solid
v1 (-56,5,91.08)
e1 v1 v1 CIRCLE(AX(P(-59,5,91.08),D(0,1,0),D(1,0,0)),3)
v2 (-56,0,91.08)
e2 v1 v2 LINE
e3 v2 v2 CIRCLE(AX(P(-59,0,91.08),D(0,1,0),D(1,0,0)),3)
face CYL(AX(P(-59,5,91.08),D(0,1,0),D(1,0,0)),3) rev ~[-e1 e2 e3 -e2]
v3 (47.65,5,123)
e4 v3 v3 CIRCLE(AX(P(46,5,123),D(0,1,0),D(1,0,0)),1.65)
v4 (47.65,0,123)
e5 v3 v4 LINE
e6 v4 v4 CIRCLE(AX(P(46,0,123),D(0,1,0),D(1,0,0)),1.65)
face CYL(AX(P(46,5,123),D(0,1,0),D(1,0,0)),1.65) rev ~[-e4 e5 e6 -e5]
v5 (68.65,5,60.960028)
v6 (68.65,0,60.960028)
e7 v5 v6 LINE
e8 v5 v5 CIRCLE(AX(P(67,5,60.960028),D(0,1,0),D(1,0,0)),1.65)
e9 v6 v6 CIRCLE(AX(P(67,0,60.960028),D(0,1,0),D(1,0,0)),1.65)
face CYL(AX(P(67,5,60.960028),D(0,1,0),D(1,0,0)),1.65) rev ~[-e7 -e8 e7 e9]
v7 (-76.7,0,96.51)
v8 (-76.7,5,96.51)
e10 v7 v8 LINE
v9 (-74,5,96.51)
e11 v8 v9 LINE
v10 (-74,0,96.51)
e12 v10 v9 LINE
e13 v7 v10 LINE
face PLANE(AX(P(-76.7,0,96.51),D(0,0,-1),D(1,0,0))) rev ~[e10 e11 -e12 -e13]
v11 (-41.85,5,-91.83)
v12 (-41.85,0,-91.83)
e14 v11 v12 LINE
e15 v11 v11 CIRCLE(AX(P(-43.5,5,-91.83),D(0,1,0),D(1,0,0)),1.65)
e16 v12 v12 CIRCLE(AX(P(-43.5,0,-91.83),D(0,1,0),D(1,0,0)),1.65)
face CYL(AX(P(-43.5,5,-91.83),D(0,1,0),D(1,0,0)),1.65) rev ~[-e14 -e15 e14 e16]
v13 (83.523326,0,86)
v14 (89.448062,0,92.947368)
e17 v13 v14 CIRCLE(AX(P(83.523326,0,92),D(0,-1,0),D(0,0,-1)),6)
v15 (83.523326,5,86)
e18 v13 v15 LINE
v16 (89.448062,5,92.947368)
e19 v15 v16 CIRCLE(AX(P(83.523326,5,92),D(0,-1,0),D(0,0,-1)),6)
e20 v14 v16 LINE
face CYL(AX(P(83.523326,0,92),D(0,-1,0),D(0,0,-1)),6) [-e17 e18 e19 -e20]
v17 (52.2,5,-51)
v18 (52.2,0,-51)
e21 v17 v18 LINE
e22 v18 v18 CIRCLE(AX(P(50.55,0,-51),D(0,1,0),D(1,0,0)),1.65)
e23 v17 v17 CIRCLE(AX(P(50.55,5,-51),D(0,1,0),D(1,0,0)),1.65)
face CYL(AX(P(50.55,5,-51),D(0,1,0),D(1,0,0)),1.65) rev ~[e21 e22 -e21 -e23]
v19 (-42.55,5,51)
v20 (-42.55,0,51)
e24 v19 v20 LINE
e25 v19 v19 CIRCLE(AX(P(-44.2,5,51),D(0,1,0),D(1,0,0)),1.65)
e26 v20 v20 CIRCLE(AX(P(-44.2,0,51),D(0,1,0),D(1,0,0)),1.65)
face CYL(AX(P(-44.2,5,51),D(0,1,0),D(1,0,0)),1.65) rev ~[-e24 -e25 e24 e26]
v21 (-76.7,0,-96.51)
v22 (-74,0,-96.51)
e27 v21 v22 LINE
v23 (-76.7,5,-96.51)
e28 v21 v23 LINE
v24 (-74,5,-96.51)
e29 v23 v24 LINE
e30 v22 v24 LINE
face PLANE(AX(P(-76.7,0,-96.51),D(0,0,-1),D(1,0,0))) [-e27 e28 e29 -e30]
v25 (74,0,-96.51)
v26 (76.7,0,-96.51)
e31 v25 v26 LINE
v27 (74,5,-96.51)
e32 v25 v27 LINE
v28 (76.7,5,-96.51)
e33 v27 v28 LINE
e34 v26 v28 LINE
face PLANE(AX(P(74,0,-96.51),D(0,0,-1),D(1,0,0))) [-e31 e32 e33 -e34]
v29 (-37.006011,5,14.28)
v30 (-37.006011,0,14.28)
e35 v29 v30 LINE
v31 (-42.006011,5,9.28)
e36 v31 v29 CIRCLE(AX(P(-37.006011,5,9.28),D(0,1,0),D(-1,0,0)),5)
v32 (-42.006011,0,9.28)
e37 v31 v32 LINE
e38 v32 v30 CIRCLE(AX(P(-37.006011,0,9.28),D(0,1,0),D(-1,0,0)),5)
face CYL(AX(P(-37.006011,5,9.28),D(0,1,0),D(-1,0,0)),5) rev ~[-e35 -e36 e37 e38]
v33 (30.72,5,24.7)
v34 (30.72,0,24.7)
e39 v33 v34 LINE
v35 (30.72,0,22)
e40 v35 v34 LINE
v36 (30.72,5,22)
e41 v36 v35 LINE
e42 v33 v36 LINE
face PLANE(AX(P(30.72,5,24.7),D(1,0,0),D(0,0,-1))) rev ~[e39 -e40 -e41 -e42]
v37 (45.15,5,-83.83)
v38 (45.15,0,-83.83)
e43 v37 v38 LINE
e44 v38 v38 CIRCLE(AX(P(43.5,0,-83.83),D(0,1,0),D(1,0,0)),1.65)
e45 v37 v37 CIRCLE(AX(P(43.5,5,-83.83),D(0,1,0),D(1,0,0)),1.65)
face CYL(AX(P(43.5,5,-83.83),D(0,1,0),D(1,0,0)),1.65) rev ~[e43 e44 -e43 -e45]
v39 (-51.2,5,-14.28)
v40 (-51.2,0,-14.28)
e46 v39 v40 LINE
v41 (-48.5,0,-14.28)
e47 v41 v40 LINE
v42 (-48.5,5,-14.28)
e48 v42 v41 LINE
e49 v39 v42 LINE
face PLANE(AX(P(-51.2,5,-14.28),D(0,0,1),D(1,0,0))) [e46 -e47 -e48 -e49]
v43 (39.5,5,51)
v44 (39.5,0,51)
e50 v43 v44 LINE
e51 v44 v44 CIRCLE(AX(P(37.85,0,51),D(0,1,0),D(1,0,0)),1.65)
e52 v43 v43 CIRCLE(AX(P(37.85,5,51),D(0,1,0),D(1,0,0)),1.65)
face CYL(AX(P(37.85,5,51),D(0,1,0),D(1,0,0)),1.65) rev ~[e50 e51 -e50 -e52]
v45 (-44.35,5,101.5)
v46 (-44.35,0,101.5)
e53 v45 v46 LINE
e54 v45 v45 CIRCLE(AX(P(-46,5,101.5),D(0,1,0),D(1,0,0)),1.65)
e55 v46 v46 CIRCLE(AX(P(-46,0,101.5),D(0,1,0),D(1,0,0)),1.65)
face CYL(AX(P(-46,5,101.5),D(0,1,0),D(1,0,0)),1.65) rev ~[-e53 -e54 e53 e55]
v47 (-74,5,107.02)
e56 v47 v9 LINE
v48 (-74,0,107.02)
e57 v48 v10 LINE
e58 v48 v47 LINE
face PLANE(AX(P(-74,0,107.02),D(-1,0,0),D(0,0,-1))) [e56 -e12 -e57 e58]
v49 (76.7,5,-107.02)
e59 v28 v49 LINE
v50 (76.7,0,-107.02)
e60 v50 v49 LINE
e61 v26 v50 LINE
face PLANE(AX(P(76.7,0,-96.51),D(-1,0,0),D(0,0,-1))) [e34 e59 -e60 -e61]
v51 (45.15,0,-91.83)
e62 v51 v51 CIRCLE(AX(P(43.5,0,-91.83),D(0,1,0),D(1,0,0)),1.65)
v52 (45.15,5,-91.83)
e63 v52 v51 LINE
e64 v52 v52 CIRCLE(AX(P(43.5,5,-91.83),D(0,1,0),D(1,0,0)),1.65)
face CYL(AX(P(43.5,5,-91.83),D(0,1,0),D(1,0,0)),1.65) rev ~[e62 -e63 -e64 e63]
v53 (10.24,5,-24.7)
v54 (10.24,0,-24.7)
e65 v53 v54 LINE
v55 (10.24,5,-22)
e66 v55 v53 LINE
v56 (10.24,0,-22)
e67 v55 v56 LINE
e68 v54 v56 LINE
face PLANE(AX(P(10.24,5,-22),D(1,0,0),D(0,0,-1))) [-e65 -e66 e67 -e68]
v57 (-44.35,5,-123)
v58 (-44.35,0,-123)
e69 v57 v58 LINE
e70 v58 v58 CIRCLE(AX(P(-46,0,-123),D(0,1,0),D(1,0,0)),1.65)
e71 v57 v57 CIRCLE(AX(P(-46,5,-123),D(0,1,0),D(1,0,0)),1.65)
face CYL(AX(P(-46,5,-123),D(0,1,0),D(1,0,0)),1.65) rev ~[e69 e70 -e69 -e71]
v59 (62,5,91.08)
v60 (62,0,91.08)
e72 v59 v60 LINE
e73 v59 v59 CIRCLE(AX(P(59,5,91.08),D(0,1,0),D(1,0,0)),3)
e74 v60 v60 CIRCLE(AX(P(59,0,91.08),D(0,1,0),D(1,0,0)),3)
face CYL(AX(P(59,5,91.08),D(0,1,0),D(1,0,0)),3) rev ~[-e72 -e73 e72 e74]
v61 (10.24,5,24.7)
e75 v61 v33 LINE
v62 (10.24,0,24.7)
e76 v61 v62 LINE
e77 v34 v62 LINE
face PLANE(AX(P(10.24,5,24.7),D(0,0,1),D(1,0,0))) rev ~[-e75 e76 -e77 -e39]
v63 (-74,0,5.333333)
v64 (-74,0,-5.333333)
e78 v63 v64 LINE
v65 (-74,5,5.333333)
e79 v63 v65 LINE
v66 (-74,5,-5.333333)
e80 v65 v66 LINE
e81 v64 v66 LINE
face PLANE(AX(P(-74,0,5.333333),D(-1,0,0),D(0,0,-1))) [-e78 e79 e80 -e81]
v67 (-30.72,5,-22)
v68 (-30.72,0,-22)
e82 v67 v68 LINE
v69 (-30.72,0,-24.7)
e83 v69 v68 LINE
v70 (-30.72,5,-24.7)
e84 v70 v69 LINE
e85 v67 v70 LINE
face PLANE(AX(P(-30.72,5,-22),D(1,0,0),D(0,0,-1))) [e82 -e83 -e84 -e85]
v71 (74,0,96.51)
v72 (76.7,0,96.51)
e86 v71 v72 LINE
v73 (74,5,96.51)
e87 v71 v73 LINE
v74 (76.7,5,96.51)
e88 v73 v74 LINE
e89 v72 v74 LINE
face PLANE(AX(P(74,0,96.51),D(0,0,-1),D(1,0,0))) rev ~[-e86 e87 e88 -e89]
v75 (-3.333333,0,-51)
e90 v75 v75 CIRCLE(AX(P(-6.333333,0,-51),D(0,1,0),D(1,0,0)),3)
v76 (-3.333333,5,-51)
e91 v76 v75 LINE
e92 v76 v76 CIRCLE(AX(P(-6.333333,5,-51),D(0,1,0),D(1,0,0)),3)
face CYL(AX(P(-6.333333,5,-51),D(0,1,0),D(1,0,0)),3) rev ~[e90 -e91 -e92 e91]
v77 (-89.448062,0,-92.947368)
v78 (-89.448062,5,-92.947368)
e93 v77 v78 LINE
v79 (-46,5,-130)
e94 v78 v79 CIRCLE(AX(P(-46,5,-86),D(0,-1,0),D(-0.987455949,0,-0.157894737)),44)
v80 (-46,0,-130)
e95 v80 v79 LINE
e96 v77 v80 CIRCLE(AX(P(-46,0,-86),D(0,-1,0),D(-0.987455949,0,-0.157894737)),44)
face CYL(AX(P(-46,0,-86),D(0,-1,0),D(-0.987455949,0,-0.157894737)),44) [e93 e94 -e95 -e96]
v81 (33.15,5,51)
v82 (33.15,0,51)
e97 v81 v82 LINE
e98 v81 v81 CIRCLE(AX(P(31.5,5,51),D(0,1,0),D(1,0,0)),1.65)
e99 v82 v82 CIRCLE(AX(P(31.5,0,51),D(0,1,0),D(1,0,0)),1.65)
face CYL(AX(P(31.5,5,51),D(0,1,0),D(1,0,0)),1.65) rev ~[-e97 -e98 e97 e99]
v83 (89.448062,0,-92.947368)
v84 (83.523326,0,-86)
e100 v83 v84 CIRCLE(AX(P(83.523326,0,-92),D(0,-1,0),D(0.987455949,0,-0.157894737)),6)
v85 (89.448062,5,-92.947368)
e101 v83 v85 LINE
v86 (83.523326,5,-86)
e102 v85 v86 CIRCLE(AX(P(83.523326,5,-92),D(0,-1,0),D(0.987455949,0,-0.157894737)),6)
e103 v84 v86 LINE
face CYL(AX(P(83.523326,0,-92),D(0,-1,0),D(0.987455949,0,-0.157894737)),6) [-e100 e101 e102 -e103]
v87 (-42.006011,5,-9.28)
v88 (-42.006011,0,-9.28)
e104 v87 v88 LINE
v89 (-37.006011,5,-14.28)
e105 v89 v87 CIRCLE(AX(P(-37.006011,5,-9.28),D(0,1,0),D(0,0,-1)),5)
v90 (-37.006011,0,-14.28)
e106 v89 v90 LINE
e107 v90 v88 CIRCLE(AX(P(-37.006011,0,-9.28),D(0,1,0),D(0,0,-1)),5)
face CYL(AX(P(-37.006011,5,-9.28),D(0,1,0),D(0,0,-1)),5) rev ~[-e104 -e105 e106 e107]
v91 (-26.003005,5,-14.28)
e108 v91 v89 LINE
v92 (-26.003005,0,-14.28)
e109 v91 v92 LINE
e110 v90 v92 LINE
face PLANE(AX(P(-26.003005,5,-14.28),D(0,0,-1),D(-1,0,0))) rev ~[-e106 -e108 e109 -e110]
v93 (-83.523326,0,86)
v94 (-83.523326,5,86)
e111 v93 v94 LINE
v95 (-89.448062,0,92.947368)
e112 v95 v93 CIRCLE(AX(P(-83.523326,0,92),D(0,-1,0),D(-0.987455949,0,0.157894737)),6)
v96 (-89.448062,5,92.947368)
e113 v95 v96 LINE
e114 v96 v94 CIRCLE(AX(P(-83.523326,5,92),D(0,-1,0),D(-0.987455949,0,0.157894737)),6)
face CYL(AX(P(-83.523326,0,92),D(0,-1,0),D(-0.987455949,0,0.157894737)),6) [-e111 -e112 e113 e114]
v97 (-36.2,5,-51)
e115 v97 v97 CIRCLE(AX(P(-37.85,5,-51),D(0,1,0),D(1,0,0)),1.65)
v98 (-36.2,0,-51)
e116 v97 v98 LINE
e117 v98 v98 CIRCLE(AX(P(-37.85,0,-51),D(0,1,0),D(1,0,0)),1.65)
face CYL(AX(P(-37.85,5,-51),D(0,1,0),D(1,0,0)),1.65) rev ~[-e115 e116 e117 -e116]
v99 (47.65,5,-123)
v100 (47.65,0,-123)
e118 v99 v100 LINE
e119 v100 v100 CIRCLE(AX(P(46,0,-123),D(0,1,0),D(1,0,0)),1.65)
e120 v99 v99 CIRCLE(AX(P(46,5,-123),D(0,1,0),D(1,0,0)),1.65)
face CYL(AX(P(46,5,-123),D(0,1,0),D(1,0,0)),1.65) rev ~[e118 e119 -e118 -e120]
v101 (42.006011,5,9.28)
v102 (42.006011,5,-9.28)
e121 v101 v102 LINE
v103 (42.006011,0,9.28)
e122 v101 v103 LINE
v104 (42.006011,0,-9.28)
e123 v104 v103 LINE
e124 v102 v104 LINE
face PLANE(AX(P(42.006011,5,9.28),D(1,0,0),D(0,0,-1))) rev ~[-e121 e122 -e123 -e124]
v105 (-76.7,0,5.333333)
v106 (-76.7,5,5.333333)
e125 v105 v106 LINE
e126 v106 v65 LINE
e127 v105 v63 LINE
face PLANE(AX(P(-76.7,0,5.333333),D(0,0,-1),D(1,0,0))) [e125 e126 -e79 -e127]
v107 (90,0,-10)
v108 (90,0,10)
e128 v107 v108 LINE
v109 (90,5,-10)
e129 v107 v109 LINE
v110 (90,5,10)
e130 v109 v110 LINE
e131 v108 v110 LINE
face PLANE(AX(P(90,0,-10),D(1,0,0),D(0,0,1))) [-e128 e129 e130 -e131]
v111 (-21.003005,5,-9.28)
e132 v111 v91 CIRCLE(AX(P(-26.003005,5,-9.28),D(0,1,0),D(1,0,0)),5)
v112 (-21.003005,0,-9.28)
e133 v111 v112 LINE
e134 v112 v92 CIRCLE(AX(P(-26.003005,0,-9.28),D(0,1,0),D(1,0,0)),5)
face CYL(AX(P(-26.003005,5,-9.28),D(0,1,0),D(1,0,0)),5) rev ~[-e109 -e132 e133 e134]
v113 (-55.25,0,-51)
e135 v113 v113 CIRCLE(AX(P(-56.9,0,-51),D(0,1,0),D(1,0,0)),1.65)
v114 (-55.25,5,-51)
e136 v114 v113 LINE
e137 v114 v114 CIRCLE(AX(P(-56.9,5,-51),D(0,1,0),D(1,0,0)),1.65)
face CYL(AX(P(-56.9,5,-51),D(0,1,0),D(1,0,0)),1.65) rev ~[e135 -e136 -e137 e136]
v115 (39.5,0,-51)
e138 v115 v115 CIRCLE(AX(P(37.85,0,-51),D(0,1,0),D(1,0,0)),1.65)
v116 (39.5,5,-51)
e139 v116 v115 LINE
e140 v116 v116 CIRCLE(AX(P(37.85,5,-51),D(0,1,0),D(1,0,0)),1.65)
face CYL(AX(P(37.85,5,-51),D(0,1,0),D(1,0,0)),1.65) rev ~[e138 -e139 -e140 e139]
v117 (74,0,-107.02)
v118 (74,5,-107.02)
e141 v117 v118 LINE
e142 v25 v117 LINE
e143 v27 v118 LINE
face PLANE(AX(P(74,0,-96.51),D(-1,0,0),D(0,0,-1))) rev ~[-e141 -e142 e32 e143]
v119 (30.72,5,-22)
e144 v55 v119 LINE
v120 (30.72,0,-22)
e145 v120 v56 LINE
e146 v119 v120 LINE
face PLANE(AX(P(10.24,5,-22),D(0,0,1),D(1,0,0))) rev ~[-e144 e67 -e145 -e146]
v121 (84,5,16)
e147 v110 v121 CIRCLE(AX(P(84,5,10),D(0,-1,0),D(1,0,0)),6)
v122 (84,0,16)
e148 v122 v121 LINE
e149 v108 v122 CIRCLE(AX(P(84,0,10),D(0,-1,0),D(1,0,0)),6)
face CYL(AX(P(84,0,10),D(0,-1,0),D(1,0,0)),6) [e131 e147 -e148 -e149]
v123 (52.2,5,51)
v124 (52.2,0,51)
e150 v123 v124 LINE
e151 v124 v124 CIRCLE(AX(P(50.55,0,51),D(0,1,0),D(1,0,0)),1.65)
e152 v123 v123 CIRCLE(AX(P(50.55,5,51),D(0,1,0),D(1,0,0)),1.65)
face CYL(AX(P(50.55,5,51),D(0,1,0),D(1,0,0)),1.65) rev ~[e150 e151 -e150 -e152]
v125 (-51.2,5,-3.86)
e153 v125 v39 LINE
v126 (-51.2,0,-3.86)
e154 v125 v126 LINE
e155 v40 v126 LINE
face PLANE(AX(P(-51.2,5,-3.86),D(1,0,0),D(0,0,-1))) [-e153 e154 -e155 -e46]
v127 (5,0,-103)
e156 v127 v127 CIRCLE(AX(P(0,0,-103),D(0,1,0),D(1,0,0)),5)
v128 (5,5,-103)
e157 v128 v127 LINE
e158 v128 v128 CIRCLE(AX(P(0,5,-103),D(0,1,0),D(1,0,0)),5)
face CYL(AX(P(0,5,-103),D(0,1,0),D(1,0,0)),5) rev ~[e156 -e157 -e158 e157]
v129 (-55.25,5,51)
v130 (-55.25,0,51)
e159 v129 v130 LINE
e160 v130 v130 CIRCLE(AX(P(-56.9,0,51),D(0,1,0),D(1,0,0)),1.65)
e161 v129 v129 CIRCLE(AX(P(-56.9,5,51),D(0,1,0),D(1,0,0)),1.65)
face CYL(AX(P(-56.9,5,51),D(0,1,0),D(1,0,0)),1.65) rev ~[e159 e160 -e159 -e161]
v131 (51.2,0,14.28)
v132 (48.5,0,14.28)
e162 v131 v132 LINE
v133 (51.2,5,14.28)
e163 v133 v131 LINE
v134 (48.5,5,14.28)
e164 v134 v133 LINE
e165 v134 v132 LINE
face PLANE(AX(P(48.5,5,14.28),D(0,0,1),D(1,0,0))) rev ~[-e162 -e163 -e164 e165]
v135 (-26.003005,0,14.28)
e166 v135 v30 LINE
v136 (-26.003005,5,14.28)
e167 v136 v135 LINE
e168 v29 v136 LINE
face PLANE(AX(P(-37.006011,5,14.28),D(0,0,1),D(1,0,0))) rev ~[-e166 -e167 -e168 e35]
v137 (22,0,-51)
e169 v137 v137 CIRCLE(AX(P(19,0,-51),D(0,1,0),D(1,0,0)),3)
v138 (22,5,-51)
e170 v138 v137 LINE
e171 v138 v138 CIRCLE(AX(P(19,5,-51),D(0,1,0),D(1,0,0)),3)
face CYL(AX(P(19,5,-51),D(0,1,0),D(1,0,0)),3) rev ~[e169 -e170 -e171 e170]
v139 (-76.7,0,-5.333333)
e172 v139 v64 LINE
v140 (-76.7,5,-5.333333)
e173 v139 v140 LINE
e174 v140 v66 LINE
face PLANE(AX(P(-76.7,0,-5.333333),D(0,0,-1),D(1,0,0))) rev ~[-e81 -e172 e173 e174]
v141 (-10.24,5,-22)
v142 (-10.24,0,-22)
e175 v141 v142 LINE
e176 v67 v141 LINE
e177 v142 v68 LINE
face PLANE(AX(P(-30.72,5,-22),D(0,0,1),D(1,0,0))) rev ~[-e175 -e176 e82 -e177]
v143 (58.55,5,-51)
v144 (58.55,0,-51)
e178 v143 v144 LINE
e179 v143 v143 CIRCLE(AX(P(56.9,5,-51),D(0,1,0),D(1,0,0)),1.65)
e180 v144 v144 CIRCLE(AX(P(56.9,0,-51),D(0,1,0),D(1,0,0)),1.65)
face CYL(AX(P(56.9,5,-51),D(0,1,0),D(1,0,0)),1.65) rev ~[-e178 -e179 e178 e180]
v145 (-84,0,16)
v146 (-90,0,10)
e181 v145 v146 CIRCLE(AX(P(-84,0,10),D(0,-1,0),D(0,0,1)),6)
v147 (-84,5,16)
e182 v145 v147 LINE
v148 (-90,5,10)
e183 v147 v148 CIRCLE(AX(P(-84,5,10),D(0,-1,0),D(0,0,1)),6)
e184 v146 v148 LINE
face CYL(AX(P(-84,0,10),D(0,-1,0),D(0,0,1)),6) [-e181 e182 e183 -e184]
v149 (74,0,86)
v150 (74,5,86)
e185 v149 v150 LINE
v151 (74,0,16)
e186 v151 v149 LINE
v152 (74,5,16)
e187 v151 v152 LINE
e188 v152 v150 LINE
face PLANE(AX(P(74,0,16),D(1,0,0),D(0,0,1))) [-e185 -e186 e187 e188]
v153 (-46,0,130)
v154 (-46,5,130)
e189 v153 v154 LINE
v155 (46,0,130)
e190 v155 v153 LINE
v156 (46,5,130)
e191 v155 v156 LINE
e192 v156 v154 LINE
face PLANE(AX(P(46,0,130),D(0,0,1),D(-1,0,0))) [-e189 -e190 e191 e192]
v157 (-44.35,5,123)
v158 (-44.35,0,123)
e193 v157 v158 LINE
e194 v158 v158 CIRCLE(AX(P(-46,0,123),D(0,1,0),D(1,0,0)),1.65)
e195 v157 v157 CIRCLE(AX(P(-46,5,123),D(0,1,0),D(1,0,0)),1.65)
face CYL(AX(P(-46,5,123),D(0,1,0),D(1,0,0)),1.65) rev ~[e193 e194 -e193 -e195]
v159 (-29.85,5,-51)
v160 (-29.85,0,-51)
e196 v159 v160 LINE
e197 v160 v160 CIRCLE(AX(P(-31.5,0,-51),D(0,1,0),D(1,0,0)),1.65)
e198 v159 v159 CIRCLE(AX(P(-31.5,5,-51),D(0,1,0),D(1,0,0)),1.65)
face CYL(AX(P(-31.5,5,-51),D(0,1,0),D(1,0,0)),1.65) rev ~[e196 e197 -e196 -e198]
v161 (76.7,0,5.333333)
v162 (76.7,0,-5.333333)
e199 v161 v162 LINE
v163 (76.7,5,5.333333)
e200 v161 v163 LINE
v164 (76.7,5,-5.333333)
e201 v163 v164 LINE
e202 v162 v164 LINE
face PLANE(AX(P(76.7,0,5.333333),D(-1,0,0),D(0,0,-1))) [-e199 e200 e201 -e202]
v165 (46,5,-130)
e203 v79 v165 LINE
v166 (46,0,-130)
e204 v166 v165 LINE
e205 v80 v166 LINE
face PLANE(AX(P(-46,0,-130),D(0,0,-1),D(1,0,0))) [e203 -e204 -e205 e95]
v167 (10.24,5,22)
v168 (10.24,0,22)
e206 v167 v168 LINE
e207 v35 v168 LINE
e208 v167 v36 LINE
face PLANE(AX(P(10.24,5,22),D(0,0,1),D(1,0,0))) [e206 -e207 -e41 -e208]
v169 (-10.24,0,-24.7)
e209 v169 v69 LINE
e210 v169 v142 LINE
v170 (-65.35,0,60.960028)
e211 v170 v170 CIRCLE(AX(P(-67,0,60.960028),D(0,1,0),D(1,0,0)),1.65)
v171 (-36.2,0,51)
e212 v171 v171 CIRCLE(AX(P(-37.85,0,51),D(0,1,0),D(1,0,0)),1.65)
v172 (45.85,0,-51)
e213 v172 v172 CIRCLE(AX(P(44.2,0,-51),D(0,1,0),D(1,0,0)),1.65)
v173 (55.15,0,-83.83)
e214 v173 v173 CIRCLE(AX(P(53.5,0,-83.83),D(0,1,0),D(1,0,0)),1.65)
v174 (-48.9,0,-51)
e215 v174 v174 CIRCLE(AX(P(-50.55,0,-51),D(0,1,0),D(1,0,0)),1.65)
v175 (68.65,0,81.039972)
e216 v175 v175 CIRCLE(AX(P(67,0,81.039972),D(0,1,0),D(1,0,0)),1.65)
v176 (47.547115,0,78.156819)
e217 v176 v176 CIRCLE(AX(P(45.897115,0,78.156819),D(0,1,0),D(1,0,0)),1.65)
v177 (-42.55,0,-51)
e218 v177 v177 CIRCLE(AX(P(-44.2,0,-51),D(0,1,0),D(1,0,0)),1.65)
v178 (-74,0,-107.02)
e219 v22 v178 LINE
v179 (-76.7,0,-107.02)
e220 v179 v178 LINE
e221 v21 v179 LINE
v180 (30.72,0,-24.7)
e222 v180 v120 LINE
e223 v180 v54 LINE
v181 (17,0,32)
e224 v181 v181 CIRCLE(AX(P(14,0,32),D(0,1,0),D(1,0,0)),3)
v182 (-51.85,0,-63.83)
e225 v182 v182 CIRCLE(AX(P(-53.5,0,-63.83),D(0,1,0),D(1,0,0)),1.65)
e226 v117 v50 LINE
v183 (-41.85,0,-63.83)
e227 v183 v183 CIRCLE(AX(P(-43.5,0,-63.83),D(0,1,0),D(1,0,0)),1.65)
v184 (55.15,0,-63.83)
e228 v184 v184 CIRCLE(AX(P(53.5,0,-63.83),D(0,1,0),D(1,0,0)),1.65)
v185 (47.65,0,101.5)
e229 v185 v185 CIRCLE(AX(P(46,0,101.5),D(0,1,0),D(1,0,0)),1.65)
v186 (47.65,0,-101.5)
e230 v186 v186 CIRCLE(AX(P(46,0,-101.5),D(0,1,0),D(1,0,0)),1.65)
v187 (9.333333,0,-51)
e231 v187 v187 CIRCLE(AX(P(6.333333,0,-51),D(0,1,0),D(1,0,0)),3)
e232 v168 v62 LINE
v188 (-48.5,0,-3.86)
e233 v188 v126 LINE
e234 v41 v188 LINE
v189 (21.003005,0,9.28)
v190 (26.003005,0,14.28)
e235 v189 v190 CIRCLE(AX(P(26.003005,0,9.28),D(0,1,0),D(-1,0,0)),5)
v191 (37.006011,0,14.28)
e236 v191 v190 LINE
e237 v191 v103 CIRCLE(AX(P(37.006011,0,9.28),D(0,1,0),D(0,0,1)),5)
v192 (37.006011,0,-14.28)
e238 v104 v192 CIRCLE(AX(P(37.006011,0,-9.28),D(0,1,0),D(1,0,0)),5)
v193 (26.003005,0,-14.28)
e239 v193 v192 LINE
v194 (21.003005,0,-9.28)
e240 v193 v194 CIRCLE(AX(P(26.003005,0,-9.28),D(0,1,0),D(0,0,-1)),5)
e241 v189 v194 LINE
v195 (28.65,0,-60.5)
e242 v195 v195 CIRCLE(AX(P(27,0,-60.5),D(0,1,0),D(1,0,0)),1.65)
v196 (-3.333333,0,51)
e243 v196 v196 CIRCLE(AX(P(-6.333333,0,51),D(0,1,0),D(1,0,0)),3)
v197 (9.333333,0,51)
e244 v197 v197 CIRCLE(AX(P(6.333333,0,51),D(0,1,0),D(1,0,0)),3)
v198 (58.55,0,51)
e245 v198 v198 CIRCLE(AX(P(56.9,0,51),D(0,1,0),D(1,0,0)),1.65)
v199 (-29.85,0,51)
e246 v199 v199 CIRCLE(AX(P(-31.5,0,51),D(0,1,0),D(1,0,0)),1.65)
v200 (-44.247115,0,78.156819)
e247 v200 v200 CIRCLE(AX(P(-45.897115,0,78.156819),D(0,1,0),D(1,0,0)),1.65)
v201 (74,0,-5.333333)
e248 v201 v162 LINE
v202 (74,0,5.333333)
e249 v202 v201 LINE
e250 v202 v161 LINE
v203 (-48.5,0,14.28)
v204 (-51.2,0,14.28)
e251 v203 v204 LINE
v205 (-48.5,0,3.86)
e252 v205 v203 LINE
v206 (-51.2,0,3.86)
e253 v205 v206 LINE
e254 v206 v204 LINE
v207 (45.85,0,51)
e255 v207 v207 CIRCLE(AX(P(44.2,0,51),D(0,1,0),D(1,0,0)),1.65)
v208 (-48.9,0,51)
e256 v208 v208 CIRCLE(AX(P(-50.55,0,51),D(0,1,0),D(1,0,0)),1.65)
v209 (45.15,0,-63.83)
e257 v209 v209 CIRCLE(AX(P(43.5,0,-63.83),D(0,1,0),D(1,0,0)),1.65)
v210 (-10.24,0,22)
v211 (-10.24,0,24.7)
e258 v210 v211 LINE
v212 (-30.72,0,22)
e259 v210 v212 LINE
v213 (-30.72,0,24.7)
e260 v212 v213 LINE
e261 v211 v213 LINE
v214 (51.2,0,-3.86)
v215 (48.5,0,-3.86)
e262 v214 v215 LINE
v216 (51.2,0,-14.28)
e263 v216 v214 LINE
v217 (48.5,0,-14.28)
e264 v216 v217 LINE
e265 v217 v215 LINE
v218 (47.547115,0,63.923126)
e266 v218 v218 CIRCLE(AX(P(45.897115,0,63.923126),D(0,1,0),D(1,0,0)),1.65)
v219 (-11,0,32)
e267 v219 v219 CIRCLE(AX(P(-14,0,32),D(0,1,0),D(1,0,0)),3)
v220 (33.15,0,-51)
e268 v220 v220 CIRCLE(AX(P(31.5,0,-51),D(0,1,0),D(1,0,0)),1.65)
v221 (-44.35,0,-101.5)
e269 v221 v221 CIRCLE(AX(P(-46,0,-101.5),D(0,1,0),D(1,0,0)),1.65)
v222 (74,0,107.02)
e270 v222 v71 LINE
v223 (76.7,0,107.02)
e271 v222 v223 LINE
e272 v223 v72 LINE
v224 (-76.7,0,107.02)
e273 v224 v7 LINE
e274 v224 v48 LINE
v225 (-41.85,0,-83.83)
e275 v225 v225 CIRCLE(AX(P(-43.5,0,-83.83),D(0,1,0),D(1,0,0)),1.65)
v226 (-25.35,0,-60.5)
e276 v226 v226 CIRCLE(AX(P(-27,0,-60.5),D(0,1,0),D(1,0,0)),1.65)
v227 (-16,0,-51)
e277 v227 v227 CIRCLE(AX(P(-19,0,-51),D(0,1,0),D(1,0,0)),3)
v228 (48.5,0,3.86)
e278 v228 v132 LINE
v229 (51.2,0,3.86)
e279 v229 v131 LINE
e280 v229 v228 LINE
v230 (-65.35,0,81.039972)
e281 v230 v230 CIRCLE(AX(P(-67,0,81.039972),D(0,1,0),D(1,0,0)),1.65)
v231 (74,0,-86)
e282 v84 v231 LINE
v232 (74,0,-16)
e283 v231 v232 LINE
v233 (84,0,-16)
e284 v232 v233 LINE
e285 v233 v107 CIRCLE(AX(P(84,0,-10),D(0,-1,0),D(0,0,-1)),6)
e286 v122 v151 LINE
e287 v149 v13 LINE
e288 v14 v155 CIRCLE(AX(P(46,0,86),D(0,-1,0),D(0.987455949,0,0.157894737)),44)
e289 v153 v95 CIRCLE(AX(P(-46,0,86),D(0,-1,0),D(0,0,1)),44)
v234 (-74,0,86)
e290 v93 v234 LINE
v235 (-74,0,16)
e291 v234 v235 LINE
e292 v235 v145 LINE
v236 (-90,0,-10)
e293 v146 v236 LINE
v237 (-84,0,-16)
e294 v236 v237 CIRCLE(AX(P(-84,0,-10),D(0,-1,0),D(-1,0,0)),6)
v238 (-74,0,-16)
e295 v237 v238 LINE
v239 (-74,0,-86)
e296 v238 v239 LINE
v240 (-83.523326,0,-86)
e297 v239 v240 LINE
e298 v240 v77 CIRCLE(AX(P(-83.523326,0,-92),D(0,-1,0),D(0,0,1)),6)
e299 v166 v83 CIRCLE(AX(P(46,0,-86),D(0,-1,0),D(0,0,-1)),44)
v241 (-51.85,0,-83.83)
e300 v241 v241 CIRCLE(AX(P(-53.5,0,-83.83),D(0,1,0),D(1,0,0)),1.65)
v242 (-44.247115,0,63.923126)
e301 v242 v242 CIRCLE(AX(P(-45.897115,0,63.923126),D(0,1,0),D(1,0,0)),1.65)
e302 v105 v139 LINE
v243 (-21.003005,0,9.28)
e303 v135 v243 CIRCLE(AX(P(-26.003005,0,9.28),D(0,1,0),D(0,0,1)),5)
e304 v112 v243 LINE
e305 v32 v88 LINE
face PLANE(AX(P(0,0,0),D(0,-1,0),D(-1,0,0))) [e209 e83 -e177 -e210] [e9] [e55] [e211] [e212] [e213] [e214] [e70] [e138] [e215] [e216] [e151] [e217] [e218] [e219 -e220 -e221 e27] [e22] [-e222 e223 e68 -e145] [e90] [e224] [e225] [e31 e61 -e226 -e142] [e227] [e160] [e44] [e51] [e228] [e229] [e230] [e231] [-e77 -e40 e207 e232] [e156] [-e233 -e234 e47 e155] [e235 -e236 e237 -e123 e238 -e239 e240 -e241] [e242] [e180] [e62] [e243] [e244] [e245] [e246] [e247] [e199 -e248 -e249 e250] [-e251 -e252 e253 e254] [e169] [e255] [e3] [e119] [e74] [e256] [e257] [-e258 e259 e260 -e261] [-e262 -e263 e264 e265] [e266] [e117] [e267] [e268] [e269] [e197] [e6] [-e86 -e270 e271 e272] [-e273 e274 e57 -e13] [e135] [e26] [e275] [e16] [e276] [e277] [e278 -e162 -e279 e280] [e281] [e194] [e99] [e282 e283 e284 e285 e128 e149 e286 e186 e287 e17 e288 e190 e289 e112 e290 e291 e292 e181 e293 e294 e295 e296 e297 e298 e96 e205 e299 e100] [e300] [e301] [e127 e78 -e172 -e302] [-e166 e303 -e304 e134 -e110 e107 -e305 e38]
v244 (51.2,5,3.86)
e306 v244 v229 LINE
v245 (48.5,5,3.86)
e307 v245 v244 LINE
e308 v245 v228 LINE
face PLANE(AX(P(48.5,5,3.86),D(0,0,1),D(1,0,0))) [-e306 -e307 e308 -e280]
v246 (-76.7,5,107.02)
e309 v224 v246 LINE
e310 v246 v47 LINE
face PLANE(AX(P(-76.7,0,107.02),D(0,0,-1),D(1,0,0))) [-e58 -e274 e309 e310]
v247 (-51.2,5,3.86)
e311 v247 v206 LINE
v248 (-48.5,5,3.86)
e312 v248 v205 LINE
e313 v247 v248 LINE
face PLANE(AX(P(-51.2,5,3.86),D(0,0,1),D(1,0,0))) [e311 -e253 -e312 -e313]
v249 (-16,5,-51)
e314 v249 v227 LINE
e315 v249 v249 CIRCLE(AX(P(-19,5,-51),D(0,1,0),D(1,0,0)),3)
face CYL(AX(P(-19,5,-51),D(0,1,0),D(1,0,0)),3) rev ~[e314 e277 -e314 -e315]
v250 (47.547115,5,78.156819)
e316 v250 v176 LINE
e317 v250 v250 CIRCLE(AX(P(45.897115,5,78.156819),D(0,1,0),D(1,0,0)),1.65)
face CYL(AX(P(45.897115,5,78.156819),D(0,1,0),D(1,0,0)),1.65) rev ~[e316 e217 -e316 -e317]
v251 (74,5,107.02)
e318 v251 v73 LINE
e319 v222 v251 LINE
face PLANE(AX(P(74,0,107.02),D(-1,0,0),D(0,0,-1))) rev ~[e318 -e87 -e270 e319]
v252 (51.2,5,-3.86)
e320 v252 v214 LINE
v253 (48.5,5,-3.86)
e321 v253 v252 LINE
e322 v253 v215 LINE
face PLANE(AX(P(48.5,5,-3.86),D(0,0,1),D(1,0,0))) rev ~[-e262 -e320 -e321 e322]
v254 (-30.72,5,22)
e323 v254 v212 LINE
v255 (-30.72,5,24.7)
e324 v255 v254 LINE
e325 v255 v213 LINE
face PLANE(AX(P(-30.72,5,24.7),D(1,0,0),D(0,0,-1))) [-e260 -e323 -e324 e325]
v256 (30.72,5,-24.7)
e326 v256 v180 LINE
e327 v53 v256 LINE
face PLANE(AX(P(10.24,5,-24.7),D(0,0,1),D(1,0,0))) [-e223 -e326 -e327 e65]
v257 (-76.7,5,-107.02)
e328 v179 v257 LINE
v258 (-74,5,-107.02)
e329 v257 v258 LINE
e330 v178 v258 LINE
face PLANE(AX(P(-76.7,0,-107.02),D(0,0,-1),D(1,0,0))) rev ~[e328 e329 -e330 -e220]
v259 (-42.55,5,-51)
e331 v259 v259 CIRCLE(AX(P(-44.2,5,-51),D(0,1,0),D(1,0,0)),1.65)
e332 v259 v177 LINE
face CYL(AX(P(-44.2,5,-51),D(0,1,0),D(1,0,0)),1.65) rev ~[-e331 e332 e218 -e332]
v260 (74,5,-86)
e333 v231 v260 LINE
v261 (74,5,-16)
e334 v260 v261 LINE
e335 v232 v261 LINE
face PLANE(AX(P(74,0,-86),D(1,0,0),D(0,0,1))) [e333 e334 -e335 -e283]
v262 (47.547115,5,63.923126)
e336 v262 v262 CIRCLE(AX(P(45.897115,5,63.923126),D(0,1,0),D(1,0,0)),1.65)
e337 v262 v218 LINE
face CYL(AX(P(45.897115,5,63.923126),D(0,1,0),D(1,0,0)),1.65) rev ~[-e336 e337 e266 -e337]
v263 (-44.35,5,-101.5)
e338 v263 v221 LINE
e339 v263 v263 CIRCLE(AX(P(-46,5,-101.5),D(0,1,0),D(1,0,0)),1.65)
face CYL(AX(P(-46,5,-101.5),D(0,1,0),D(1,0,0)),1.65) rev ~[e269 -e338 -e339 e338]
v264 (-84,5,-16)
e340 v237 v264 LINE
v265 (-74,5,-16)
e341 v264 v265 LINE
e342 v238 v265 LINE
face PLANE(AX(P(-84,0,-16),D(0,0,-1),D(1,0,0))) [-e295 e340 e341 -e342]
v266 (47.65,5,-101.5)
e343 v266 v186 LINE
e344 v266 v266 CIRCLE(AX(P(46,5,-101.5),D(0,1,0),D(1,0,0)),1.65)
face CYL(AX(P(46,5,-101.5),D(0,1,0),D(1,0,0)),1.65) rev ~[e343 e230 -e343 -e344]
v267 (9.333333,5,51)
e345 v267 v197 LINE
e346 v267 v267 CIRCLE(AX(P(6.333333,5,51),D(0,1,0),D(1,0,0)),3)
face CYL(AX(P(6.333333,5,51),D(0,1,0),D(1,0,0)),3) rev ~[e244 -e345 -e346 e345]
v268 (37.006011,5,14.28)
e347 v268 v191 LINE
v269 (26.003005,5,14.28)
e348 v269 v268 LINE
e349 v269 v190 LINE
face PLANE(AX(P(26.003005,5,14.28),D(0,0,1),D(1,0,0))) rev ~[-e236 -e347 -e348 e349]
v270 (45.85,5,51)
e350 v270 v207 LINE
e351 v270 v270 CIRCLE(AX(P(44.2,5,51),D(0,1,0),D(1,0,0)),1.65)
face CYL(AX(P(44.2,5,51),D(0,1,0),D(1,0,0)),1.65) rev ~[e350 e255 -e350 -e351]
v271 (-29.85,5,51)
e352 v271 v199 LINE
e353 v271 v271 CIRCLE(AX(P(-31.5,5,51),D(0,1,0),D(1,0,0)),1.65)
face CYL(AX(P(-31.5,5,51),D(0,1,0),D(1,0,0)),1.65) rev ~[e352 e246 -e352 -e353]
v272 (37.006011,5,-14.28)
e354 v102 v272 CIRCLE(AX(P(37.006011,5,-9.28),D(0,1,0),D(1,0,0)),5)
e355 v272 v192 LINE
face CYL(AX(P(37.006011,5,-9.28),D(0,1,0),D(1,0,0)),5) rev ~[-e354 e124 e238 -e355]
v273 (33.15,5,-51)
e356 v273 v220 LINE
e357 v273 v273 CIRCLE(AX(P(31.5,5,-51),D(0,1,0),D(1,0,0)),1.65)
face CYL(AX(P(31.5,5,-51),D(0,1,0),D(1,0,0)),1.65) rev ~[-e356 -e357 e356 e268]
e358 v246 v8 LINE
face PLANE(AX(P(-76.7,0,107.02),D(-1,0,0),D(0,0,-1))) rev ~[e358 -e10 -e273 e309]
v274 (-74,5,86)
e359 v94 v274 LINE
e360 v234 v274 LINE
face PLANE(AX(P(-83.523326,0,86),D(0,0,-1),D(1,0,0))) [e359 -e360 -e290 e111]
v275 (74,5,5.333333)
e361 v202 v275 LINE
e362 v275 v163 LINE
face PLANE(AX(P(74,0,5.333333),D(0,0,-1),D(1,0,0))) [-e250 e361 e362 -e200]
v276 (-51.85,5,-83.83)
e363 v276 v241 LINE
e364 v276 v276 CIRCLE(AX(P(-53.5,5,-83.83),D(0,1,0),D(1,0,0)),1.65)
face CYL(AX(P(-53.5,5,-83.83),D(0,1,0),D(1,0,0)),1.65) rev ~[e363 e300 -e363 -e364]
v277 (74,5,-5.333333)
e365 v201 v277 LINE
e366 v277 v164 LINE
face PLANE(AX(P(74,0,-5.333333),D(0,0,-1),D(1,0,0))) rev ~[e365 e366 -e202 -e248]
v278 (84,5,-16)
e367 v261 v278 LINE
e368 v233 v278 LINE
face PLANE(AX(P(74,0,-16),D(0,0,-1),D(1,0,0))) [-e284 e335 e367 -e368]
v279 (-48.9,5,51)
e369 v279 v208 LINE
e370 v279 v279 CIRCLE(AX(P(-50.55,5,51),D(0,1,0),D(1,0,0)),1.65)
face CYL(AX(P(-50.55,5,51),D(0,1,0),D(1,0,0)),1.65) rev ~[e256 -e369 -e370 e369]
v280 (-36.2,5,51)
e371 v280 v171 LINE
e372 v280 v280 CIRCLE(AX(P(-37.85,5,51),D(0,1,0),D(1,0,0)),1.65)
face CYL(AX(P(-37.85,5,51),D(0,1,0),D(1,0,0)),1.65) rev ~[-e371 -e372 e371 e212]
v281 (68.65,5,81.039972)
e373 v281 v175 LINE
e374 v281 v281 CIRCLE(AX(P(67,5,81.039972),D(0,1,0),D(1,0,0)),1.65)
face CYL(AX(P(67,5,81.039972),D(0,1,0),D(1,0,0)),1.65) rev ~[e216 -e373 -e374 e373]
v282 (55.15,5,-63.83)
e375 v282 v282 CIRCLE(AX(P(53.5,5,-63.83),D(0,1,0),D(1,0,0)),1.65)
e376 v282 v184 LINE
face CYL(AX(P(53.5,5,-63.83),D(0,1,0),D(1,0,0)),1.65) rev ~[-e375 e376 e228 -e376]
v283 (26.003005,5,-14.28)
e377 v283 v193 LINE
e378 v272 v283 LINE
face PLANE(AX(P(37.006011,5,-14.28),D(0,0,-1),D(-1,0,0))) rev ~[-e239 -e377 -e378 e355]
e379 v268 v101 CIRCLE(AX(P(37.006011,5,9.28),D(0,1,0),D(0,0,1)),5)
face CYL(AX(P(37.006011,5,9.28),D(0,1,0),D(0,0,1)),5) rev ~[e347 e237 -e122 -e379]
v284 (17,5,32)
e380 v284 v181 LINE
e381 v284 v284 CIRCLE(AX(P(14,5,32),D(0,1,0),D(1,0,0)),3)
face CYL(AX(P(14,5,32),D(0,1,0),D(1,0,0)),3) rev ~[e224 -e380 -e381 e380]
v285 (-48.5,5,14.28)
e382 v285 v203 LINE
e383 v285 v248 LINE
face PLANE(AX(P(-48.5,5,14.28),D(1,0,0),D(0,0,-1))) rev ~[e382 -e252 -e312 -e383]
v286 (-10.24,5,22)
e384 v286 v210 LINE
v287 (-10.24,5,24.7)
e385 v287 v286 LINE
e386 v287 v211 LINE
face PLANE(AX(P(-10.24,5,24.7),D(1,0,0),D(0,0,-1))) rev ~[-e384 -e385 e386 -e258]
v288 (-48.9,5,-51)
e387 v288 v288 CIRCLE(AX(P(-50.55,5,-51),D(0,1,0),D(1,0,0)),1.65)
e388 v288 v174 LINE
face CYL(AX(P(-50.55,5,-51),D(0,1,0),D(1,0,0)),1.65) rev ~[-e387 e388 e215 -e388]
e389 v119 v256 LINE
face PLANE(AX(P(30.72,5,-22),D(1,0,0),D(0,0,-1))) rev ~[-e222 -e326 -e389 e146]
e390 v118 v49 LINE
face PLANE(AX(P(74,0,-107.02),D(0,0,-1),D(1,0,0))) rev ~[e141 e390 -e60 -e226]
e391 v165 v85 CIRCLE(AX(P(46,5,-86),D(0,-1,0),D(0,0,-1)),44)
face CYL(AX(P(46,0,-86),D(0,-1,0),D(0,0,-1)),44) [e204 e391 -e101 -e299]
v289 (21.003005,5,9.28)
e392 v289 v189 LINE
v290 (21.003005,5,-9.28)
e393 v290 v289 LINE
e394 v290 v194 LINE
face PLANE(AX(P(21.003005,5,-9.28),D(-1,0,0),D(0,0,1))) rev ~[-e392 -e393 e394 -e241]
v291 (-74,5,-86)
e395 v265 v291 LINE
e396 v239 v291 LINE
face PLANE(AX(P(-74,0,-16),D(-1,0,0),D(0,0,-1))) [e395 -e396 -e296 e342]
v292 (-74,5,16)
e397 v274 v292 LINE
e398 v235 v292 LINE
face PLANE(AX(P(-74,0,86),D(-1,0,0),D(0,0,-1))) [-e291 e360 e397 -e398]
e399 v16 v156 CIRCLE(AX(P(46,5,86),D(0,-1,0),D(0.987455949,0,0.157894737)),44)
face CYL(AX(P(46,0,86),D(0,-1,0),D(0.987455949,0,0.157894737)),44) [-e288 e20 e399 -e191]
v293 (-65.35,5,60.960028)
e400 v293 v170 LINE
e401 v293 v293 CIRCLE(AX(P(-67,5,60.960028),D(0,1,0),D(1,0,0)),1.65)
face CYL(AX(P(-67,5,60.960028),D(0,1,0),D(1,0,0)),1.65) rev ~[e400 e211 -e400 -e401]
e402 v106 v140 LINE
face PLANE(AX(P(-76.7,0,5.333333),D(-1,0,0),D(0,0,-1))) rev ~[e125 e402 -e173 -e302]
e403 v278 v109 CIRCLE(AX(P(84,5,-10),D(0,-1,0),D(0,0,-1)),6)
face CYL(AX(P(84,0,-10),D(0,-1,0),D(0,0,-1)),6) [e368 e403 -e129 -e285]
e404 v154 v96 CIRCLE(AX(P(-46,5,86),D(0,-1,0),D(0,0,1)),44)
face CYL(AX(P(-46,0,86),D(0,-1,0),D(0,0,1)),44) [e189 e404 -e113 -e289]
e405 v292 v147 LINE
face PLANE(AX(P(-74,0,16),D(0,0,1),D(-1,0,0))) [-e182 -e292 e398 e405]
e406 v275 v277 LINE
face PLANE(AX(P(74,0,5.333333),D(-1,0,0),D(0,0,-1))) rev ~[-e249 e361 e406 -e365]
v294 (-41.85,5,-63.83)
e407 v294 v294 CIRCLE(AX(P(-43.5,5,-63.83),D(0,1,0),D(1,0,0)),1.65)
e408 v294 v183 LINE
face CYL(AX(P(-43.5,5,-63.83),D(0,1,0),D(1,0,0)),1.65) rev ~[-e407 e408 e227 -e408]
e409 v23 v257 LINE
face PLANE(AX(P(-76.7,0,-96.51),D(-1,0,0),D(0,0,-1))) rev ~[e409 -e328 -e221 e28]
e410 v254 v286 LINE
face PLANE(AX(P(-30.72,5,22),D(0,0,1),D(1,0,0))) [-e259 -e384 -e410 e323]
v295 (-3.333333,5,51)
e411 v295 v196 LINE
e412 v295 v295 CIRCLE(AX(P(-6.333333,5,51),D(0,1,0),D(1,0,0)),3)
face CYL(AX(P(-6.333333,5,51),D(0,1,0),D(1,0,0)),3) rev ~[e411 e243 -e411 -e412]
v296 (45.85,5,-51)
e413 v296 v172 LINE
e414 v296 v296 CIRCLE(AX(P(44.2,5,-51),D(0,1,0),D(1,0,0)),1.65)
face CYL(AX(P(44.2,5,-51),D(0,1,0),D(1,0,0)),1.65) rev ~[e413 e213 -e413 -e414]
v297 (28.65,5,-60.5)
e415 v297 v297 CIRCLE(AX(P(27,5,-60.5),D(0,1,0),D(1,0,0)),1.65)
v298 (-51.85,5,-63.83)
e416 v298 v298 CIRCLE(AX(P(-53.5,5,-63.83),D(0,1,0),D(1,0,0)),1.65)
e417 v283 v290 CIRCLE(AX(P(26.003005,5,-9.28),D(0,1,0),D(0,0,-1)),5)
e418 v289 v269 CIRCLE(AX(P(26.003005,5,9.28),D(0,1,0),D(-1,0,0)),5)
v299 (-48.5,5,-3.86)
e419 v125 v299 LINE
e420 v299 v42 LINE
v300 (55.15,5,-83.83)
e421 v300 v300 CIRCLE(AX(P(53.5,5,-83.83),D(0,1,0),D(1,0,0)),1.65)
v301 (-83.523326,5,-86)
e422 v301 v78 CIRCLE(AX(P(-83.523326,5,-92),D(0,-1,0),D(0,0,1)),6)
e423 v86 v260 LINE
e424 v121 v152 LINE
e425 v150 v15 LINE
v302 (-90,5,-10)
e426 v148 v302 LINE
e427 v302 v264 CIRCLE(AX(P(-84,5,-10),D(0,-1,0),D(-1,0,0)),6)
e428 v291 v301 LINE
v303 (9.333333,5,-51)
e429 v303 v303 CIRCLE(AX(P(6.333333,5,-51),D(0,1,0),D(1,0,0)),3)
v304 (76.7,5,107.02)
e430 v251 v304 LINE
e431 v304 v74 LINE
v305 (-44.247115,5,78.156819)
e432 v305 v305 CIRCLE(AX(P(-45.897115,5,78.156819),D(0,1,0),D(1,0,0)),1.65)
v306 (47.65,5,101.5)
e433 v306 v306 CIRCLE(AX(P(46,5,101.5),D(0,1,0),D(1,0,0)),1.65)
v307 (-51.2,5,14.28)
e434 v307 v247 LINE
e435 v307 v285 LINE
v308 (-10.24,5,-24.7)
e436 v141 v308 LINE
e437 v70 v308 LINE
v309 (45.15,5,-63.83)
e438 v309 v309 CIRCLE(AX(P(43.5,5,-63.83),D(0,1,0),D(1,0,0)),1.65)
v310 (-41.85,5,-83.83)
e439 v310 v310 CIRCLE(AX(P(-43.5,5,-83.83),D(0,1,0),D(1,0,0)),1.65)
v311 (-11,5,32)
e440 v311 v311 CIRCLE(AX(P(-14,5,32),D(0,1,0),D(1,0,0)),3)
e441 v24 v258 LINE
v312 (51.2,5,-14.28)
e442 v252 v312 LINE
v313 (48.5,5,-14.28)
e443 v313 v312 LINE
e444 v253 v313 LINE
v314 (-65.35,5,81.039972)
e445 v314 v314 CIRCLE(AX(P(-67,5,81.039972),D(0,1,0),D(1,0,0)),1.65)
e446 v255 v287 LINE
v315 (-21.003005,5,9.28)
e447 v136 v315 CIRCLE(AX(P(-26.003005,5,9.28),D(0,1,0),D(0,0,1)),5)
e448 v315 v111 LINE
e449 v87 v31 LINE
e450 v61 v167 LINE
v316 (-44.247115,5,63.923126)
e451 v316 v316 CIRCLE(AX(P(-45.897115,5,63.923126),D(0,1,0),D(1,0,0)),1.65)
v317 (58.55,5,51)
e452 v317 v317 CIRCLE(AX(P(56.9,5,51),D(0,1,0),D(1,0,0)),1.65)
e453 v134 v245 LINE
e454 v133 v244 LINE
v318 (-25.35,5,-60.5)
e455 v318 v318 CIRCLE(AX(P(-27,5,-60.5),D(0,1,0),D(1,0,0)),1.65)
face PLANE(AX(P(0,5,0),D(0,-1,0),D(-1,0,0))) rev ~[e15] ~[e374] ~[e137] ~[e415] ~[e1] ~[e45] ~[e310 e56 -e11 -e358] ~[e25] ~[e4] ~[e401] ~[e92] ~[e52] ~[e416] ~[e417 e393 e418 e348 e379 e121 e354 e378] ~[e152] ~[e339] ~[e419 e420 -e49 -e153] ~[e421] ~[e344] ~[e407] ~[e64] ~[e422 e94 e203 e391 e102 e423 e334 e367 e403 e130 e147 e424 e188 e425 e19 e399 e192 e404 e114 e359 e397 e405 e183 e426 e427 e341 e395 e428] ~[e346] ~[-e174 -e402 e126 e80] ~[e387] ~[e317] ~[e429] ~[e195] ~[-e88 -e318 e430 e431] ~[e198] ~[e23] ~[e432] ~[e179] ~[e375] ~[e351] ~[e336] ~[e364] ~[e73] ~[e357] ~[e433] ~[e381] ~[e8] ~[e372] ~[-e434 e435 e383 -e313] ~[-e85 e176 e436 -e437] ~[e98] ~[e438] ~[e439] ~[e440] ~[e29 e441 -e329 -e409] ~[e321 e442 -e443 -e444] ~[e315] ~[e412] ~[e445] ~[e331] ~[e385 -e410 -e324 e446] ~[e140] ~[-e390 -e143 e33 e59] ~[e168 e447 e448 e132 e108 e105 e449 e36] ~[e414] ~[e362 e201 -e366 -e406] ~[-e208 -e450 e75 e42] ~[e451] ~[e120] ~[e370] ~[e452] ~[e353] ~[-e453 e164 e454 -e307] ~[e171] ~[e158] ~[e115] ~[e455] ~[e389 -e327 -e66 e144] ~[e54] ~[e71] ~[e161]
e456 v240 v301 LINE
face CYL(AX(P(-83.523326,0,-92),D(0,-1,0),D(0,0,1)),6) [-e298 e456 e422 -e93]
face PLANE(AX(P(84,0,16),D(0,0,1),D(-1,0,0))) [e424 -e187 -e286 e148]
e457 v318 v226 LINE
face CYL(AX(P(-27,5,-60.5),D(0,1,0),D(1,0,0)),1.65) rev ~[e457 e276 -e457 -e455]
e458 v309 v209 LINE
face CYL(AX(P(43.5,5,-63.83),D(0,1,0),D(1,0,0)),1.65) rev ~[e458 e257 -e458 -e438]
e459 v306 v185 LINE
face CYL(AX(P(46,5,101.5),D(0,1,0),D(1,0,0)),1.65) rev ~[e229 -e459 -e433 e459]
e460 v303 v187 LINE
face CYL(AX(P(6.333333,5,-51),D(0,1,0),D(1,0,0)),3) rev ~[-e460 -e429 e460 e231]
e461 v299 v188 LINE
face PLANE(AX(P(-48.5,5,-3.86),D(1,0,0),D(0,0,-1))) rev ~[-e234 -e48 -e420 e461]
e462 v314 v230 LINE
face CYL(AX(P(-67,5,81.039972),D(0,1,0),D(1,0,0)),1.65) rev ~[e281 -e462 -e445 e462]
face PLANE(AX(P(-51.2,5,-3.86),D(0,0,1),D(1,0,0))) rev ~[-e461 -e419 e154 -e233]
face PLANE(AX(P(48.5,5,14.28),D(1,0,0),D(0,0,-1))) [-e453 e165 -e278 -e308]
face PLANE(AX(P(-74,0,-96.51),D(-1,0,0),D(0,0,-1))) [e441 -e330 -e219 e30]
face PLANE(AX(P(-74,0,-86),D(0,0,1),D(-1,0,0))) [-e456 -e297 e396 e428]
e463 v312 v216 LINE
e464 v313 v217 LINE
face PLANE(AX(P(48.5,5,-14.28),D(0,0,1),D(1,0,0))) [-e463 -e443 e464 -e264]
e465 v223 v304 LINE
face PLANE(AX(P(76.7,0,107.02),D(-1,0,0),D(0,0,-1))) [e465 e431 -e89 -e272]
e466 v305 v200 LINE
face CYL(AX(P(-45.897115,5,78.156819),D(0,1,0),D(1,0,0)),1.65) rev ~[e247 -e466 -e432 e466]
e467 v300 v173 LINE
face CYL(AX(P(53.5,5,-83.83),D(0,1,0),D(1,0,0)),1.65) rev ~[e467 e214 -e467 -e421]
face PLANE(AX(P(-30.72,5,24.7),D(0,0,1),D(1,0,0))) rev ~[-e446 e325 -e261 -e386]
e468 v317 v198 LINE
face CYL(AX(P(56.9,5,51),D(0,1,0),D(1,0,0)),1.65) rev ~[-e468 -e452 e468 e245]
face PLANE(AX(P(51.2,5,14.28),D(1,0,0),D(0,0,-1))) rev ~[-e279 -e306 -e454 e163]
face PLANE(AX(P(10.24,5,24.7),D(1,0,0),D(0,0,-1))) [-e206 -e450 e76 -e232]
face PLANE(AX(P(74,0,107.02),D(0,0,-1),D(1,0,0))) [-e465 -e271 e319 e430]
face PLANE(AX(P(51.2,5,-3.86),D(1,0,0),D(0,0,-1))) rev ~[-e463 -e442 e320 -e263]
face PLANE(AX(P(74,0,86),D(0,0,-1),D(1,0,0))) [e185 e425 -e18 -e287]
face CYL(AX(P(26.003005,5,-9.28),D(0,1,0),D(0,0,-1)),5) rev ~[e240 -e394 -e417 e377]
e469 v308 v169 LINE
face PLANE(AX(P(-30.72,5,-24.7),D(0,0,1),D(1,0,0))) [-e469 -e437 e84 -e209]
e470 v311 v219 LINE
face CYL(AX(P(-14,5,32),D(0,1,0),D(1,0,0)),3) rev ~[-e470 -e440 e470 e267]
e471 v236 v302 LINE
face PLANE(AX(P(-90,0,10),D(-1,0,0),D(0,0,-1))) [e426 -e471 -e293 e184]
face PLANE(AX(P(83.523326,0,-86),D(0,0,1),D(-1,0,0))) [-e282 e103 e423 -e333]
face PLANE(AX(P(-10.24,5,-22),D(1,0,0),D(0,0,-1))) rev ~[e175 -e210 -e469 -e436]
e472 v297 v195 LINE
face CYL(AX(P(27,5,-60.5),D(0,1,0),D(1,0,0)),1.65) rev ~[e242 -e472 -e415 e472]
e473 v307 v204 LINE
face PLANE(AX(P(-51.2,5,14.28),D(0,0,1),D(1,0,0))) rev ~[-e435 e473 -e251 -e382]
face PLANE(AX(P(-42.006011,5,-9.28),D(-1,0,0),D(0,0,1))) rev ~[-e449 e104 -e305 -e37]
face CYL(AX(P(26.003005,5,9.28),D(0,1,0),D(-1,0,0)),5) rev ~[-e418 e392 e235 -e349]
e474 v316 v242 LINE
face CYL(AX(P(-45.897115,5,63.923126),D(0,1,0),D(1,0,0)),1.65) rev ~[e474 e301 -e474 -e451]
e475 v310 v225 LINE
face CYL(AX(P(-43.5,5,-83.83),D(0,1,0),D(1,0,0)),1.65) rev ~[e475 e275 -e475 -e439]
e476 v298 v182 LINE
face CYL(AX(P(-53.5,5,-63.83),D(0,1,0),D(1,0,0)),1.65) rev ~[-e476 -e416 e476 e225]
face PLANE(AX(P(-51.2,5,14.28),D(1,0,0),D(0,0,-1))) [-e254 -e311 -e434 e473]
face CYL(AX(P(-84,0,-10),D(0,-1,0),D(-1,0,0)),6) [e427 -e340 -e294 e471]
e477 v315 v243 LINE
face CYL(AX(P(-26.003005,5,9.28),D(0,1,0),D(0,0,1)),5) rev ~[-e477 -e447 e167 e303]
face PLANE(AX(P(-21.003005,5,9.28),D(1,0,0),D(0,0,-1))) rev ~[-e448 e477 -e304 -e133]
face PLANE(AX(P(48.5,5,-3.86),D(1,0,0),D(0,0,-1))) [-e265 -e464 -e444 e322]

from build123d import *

# Parameters (mm, degrees)
SKETCH2_W           = 2.7
SKETCH2_H           = 10.51
SKETCH2_H_2         = 10.666666666
BOSS_EXTRUDE4_DEPTH = 5
SKETCH5_R           = 1.65
SKETCH5_R_2         = 3
SKETCH5_R_3         = 5
SKETCH5_W           = 20.48
SKETCH5_H           = 2.7
SKETCH5_W_2         = 2.7
SKETCH5_H_2         = 10.42
CUT_EXTRUDE1_DEPTH  = 6


with BuildPart() as part:
    # Sketch2 → Boss-Extrude4 (new body)
    with BuildSketch(Plane(origin=(0, 0, 0), x_dir=(1, 0, 0), z_dir=(0, 1, 0))):
        with BuildLine():
            Line((46, -130), (-46, -130))
            ThreePointArc((-46, -130), (-74.550970119, -119.478980051), (-89.448061775, -92.947368421))
            ThreePointArc((-89.448061775, -92.947368421), (-88.08864154, -88.106685893), (-83.523326079, -86))
            Line((-83.523326079, -86), (-74, -86))
            Line((-74, -86), (-74, -16))
            Line((-74, -16), (-84, -16))
            ThreePointArc((-84, -16), (-88.242640687, -14.242640687), (-90, -10))
            Line((-90, -10), (-90, 10))
            ThreePointArc((-90, 10), (-88.242640687, 14.242640687), (-84, 16))
            Line((-84, 16), (-74, 16))
            Line((-74, 16), (-74, 86))
            Line((-74, 86), (-83.523326079, 86))
            ThreePointArc((-83.523326079, 86), (-88.08864154, 88.106685893), (-89.448061775, 92.947368421))
            ThreePointArc((-89.448061775, 92.947368421), (-74.550970119, 119.478980051), (-46, 130))
            Line((-46, 130), (46, 130))
            ThreePointArc((46, 130), (74.550970119, 119.478980051), (89.448061775, 92.947368421))
            ThreePointArc((89.448061775, 92.947368421), (88.08864154, 88.106685893), (83.523326079, 86))
            Line((83.523326079, 86), (74, 86))
            Line((74, 86), (74, 16))
            Line((74, 16), (84, 16))
            ThreePointArc((84, 16), (88.242640687, 14.242640687), (90, 10))
            Line((90, 10), (90, -10))
            ThreePointArc((90, -10), (88.242640687, -14.242640687), (84, -16))
            Line((84, -16), (74, -16))
            Line((74, -16), (74, -86))
            Line((74, -86), (83.523326079, -86))
            ThreePointArc((83.523326079, -86), (88.08864154, -88.106685893), (89.448061775, -92.947368421))
            ThreePointArc((89.448061775, -92.947368421), (74.550970119, -119.478980051), (46, -130))
        make_face()
        with Locations((-75.35, 101.765)):
            Rectangle(SKETCH2_W, SKETCH2_H, mode=Mode.SUBTRACT)
        with Locations((75.35, 101.765)):
            Rectangle(SKETCH2_W, SKETCH2_H, mode=Mode.SUBTRACT)
        with Locations((75.35, -101.765)):
            Rectangle(SKETCH2_W, SKETCH2_H, mode=Mode.SUBTRACT)
        with Locations((-75.35, -101.765)):
            Rectangle(SKETCH2_W, SKETCH2_H, mode=Mode.SUBTRACT)
        with Locations((-75.35, 0)):
            Rectangle(SKETCH2_W, SKETCH2_H_2, mode=Mode.SUBTRACT)
        with Locations((75.35, 0)):
            Rectangle(SKETCH2_W, SKETCH2_H_2, mode=Mode.SUBTRACT)
    extrude(amount=BOSS_EXTRUDE4_DEPTH)

    # Sketch5 → Cut-Extrude1 (cut, through all)
    with BuildSketch(Plane(origin=(0, 5, 0), x_dir=(1, 0, 0), z_dir=(0, 1, 0))):
        with Locations((-56.9, -51)):
            Circle(SKETCH5_R)
        with Locations((-50.55, -51)):
            Circle(SKETCH5_R)
        with Locations((-44.2, -51)):
            Circle(SKETCH5_R)
        with Locations((-37.85, -51)):
            Circle(SKETCH5_R)
        with Locations((-31.5, -51)):
            Circle(SKETCH5_R)
        with Locations((31.5, -51)):
            Circle(SKETCH5_R)
        with Locations((37.85, -51)):
            Circle(SKETCH5_R)
        with Locations((44.2, -51)):
            Circle(SKETCH5_R)
        with Locations((50.55, -51)):
            Circle(SKETCH5_R)
        with Locations((56.9, -51)):
            Circle(SKETCH5_R)
        with Locations((56.9, 51)):
            Circle(SKETCH5_R)
        with Locations((50.55, 51)):
            Circle(SKETCH5_R)
        with Locations((44.2, 51)):
            Circle(SKETCH5_R)
        with Locations((37.85, 51)):
            Circle(SKETCH5_R)
        with Locations((31.5, 51)):
            Circle(SKETCH5_R)
        with Locations((-31.5, 51)):
            Circle(SKETCH5_R)
        with Locations((-37.85, 51)):
            Circle(SKETCH5_R)
        with Locations((-44.2, 51)):
            Circle(SKETCH5_R)
        with Locations((-50.55, 51)):
            Circle(SKETCH5_R)
        with Locations((-56.9, 51)):
            Circle(SKETCH5_R)
        with Locations((-14, -32)):
            Circle(SKETCH5_R_2)
        with Locations((14, -32)):
            Circle(SKETCH5_R_2)
        with Locations((19, 51)):
            Circle(SKETCH5_R_2)
        with Locations((-19, 51)):
            Circle(SKETCH5_R_2)
        with Locations((-53.5, 83.83)):
            Circle(SKETCH5_R)
        with Locations((-53.5, 63.83)):
            Circle(SKETCH5_R)
        with Locations((-43.5, 63.83)):
            Circle(SKETCH5_R)
        with Locations((-43.5, 83.83)):
            Circle(SKETCH5_R)
        with Locations((43.5, 63.83)):
            Circle(SKETCH5_R)
        with Locations((53.5, 63.83)):
            Circle(SKETCH5_R)
        with Locations((43.5, 83.83)):
            Circle(SKETCH5_R)
        with Locations((53.5, 83.83)):
            Circle(SKETCH5_R)
        with Locations((-46, 123)):
            Circle(SKETCH5_R)
        with Locations((-46, 101.5)):
            Circle(SKETCH5_R)
        with Locations((46, 101.5)):
            Circle(SKETCH5_R)
        with Locations((46, 123)):
            Circle(SKETCH5_R)
        with Locations((-67, -60.960027583)):
            Circle(SKETCH5_R)
        with Locations((-45.897115189, -63.923125828)):
            Circle(SKETCH5_R)
        with Locations((-67, -81.039972417)):
            Circle(SKETCH5_R)
        with Locations((-45.897115189, -78.156819007)):
            Circle(SKETCH5_R)
        with Locations((45.897115189, -63.923125828)):
            Circle(SKETCH5_R)
        with Locations((45.897115189, -78.156819007)):
            Circle(SKETCH5_R)
        with Locations((67, -81.039972417)):
            Circle(SKETCH5_R)
        with Locations((67, -60.960027583)):
            Circle(SKETCH5_R)
        with Locations((46, -123)):
            Circle(SKETCH5_R)
        with Locations((46, -101.5)):
            Circle(SKETCH5_R)
        with Locations((-46, -101.5)):
            Circle(SKETCH5_R)
        with Locations((-46, -123)):
            Circle(SKETCH5_R)
        with Locations((-27, 60.5)):
            Circle(SKETCH5_R)
        with Locations((27, 60.5)):
            Circle(SKETCH5_R)
        with Locations((-43.5, 91.83)):
            Circle(SKETCH5_R)
        with Locations((43.5, 91.83)):
            Circle(SKETCH5_R)
        with Locations((-6.333333333, 51)):
            Circle(SKETCH5_R_2)
        with Locations((6.333333333, 51)):
            Circle(SKETCH5_R_2)
        with Locations((0, 103)):
            Circle(SKETCH5_R_3)
        with Locations((59, -91.08)):
            Circle(SKETCH5_R_2)
        with Locations((-59, -91.08)):
            Circle(SKETCH5_R_2)
        with Locations((-6.333333333, -51)):
            Circle(SKETCH5_R_2)
        with Locations((6.333333333, -51)):
            Circle(SKETCH5_R_2)
        with Locations((20.48, -23.35)):
            Rectangle(SKETCH5_W, SKETCH5_H)
        with Locations((-20.48, -23.35)):
            Rectangle(SKETCH5_W, SKETCH5_H)
        with Locations((20.48, 23.35)):
            Rectangle(SKETCH5_W, SKETCH5_H)
        with Locations((-20.48, 23.35)):
            Rectangle(SKETCH5_W, SKETCH5_H)
        with Locations((49.85, -9.07)):
            Rectangle(SKETCH5_W_2, SKETCH5_H_2)
        with Locations((49.85, 9.07)):
            Rectangle(SKETCH5_W_2, SKETCH5_H_2)
        with Locations((-49.85, 9.07)):
            Rectangle(SKETCH5_W_2, SKETCH5_H_2)
        with Locations((-49.85, -9.07)):
            Rectangle(SKETCH5_W_2, SKETCH5_H_2)
        with BuildLine():
            Line((37.006010734, 14.28), (26.003005367, 14.28))
            ThreePointArc((26.003005367, 14.28), (22.467471461, 12.815533906), (21.003005367, 9.28))
            Line((21.003005367, 9.28), (21.003005367, -7.14))
            Line((21.003005367, -7.14), (21.003005367, -9.28))
            ThreePointArc((21.003005367, -9.28), (22.467471461, -12.815533906), (26.003005367, -14.28))
            Line((26.003005367, -14.28), (37.006010734, -14.28))
            ThreePointArc((37.006010734, -14.28), (40.54154464, -12.815533906), (42.006010734, -9.28))
            Line((42.006010734, -9.28), (42.006010734, 9.28))
            ThreePointArc((42.006010734, 9.28), (40.54154464, 12.815533906), (37.006010734, 14.28))
        make_face()
        with BuildLine():
            Line((-42.006010734, 9.28), (-42.006010734, -9.28))
            ThreePointArc((-42.006010734, -9.28), (-40.54154464, -12.815533906), (-37.006010734, -14.28))
            Line((-37.006010734, -14.28), (-26.003005367, -14.28))
            ThreePointArc((-26.003005367, -14.28), (-22.467471461, -12.815533906), (-21.003005367, -9.28))
            Line((-21.003005367, -9.28), (-21.003005367, 9.28))
            ThreePointArc((-21.003005367, 9.28), (-22.467471461, 12.815533906), (-26.003005367, 14.28))
            Line((-26.003005367, 14.28), (-37.006010734, 14.28))
            ThreePointArc((-37.006010734, 14.28), (-40.54154464, 12.815533906), (-42.006010734, 9.28))
        make_face()
    extrude(amount=-CUT_EXTRUDE1_DEPTH, mode=Mode.SUBTRACT)


solid = part.part
